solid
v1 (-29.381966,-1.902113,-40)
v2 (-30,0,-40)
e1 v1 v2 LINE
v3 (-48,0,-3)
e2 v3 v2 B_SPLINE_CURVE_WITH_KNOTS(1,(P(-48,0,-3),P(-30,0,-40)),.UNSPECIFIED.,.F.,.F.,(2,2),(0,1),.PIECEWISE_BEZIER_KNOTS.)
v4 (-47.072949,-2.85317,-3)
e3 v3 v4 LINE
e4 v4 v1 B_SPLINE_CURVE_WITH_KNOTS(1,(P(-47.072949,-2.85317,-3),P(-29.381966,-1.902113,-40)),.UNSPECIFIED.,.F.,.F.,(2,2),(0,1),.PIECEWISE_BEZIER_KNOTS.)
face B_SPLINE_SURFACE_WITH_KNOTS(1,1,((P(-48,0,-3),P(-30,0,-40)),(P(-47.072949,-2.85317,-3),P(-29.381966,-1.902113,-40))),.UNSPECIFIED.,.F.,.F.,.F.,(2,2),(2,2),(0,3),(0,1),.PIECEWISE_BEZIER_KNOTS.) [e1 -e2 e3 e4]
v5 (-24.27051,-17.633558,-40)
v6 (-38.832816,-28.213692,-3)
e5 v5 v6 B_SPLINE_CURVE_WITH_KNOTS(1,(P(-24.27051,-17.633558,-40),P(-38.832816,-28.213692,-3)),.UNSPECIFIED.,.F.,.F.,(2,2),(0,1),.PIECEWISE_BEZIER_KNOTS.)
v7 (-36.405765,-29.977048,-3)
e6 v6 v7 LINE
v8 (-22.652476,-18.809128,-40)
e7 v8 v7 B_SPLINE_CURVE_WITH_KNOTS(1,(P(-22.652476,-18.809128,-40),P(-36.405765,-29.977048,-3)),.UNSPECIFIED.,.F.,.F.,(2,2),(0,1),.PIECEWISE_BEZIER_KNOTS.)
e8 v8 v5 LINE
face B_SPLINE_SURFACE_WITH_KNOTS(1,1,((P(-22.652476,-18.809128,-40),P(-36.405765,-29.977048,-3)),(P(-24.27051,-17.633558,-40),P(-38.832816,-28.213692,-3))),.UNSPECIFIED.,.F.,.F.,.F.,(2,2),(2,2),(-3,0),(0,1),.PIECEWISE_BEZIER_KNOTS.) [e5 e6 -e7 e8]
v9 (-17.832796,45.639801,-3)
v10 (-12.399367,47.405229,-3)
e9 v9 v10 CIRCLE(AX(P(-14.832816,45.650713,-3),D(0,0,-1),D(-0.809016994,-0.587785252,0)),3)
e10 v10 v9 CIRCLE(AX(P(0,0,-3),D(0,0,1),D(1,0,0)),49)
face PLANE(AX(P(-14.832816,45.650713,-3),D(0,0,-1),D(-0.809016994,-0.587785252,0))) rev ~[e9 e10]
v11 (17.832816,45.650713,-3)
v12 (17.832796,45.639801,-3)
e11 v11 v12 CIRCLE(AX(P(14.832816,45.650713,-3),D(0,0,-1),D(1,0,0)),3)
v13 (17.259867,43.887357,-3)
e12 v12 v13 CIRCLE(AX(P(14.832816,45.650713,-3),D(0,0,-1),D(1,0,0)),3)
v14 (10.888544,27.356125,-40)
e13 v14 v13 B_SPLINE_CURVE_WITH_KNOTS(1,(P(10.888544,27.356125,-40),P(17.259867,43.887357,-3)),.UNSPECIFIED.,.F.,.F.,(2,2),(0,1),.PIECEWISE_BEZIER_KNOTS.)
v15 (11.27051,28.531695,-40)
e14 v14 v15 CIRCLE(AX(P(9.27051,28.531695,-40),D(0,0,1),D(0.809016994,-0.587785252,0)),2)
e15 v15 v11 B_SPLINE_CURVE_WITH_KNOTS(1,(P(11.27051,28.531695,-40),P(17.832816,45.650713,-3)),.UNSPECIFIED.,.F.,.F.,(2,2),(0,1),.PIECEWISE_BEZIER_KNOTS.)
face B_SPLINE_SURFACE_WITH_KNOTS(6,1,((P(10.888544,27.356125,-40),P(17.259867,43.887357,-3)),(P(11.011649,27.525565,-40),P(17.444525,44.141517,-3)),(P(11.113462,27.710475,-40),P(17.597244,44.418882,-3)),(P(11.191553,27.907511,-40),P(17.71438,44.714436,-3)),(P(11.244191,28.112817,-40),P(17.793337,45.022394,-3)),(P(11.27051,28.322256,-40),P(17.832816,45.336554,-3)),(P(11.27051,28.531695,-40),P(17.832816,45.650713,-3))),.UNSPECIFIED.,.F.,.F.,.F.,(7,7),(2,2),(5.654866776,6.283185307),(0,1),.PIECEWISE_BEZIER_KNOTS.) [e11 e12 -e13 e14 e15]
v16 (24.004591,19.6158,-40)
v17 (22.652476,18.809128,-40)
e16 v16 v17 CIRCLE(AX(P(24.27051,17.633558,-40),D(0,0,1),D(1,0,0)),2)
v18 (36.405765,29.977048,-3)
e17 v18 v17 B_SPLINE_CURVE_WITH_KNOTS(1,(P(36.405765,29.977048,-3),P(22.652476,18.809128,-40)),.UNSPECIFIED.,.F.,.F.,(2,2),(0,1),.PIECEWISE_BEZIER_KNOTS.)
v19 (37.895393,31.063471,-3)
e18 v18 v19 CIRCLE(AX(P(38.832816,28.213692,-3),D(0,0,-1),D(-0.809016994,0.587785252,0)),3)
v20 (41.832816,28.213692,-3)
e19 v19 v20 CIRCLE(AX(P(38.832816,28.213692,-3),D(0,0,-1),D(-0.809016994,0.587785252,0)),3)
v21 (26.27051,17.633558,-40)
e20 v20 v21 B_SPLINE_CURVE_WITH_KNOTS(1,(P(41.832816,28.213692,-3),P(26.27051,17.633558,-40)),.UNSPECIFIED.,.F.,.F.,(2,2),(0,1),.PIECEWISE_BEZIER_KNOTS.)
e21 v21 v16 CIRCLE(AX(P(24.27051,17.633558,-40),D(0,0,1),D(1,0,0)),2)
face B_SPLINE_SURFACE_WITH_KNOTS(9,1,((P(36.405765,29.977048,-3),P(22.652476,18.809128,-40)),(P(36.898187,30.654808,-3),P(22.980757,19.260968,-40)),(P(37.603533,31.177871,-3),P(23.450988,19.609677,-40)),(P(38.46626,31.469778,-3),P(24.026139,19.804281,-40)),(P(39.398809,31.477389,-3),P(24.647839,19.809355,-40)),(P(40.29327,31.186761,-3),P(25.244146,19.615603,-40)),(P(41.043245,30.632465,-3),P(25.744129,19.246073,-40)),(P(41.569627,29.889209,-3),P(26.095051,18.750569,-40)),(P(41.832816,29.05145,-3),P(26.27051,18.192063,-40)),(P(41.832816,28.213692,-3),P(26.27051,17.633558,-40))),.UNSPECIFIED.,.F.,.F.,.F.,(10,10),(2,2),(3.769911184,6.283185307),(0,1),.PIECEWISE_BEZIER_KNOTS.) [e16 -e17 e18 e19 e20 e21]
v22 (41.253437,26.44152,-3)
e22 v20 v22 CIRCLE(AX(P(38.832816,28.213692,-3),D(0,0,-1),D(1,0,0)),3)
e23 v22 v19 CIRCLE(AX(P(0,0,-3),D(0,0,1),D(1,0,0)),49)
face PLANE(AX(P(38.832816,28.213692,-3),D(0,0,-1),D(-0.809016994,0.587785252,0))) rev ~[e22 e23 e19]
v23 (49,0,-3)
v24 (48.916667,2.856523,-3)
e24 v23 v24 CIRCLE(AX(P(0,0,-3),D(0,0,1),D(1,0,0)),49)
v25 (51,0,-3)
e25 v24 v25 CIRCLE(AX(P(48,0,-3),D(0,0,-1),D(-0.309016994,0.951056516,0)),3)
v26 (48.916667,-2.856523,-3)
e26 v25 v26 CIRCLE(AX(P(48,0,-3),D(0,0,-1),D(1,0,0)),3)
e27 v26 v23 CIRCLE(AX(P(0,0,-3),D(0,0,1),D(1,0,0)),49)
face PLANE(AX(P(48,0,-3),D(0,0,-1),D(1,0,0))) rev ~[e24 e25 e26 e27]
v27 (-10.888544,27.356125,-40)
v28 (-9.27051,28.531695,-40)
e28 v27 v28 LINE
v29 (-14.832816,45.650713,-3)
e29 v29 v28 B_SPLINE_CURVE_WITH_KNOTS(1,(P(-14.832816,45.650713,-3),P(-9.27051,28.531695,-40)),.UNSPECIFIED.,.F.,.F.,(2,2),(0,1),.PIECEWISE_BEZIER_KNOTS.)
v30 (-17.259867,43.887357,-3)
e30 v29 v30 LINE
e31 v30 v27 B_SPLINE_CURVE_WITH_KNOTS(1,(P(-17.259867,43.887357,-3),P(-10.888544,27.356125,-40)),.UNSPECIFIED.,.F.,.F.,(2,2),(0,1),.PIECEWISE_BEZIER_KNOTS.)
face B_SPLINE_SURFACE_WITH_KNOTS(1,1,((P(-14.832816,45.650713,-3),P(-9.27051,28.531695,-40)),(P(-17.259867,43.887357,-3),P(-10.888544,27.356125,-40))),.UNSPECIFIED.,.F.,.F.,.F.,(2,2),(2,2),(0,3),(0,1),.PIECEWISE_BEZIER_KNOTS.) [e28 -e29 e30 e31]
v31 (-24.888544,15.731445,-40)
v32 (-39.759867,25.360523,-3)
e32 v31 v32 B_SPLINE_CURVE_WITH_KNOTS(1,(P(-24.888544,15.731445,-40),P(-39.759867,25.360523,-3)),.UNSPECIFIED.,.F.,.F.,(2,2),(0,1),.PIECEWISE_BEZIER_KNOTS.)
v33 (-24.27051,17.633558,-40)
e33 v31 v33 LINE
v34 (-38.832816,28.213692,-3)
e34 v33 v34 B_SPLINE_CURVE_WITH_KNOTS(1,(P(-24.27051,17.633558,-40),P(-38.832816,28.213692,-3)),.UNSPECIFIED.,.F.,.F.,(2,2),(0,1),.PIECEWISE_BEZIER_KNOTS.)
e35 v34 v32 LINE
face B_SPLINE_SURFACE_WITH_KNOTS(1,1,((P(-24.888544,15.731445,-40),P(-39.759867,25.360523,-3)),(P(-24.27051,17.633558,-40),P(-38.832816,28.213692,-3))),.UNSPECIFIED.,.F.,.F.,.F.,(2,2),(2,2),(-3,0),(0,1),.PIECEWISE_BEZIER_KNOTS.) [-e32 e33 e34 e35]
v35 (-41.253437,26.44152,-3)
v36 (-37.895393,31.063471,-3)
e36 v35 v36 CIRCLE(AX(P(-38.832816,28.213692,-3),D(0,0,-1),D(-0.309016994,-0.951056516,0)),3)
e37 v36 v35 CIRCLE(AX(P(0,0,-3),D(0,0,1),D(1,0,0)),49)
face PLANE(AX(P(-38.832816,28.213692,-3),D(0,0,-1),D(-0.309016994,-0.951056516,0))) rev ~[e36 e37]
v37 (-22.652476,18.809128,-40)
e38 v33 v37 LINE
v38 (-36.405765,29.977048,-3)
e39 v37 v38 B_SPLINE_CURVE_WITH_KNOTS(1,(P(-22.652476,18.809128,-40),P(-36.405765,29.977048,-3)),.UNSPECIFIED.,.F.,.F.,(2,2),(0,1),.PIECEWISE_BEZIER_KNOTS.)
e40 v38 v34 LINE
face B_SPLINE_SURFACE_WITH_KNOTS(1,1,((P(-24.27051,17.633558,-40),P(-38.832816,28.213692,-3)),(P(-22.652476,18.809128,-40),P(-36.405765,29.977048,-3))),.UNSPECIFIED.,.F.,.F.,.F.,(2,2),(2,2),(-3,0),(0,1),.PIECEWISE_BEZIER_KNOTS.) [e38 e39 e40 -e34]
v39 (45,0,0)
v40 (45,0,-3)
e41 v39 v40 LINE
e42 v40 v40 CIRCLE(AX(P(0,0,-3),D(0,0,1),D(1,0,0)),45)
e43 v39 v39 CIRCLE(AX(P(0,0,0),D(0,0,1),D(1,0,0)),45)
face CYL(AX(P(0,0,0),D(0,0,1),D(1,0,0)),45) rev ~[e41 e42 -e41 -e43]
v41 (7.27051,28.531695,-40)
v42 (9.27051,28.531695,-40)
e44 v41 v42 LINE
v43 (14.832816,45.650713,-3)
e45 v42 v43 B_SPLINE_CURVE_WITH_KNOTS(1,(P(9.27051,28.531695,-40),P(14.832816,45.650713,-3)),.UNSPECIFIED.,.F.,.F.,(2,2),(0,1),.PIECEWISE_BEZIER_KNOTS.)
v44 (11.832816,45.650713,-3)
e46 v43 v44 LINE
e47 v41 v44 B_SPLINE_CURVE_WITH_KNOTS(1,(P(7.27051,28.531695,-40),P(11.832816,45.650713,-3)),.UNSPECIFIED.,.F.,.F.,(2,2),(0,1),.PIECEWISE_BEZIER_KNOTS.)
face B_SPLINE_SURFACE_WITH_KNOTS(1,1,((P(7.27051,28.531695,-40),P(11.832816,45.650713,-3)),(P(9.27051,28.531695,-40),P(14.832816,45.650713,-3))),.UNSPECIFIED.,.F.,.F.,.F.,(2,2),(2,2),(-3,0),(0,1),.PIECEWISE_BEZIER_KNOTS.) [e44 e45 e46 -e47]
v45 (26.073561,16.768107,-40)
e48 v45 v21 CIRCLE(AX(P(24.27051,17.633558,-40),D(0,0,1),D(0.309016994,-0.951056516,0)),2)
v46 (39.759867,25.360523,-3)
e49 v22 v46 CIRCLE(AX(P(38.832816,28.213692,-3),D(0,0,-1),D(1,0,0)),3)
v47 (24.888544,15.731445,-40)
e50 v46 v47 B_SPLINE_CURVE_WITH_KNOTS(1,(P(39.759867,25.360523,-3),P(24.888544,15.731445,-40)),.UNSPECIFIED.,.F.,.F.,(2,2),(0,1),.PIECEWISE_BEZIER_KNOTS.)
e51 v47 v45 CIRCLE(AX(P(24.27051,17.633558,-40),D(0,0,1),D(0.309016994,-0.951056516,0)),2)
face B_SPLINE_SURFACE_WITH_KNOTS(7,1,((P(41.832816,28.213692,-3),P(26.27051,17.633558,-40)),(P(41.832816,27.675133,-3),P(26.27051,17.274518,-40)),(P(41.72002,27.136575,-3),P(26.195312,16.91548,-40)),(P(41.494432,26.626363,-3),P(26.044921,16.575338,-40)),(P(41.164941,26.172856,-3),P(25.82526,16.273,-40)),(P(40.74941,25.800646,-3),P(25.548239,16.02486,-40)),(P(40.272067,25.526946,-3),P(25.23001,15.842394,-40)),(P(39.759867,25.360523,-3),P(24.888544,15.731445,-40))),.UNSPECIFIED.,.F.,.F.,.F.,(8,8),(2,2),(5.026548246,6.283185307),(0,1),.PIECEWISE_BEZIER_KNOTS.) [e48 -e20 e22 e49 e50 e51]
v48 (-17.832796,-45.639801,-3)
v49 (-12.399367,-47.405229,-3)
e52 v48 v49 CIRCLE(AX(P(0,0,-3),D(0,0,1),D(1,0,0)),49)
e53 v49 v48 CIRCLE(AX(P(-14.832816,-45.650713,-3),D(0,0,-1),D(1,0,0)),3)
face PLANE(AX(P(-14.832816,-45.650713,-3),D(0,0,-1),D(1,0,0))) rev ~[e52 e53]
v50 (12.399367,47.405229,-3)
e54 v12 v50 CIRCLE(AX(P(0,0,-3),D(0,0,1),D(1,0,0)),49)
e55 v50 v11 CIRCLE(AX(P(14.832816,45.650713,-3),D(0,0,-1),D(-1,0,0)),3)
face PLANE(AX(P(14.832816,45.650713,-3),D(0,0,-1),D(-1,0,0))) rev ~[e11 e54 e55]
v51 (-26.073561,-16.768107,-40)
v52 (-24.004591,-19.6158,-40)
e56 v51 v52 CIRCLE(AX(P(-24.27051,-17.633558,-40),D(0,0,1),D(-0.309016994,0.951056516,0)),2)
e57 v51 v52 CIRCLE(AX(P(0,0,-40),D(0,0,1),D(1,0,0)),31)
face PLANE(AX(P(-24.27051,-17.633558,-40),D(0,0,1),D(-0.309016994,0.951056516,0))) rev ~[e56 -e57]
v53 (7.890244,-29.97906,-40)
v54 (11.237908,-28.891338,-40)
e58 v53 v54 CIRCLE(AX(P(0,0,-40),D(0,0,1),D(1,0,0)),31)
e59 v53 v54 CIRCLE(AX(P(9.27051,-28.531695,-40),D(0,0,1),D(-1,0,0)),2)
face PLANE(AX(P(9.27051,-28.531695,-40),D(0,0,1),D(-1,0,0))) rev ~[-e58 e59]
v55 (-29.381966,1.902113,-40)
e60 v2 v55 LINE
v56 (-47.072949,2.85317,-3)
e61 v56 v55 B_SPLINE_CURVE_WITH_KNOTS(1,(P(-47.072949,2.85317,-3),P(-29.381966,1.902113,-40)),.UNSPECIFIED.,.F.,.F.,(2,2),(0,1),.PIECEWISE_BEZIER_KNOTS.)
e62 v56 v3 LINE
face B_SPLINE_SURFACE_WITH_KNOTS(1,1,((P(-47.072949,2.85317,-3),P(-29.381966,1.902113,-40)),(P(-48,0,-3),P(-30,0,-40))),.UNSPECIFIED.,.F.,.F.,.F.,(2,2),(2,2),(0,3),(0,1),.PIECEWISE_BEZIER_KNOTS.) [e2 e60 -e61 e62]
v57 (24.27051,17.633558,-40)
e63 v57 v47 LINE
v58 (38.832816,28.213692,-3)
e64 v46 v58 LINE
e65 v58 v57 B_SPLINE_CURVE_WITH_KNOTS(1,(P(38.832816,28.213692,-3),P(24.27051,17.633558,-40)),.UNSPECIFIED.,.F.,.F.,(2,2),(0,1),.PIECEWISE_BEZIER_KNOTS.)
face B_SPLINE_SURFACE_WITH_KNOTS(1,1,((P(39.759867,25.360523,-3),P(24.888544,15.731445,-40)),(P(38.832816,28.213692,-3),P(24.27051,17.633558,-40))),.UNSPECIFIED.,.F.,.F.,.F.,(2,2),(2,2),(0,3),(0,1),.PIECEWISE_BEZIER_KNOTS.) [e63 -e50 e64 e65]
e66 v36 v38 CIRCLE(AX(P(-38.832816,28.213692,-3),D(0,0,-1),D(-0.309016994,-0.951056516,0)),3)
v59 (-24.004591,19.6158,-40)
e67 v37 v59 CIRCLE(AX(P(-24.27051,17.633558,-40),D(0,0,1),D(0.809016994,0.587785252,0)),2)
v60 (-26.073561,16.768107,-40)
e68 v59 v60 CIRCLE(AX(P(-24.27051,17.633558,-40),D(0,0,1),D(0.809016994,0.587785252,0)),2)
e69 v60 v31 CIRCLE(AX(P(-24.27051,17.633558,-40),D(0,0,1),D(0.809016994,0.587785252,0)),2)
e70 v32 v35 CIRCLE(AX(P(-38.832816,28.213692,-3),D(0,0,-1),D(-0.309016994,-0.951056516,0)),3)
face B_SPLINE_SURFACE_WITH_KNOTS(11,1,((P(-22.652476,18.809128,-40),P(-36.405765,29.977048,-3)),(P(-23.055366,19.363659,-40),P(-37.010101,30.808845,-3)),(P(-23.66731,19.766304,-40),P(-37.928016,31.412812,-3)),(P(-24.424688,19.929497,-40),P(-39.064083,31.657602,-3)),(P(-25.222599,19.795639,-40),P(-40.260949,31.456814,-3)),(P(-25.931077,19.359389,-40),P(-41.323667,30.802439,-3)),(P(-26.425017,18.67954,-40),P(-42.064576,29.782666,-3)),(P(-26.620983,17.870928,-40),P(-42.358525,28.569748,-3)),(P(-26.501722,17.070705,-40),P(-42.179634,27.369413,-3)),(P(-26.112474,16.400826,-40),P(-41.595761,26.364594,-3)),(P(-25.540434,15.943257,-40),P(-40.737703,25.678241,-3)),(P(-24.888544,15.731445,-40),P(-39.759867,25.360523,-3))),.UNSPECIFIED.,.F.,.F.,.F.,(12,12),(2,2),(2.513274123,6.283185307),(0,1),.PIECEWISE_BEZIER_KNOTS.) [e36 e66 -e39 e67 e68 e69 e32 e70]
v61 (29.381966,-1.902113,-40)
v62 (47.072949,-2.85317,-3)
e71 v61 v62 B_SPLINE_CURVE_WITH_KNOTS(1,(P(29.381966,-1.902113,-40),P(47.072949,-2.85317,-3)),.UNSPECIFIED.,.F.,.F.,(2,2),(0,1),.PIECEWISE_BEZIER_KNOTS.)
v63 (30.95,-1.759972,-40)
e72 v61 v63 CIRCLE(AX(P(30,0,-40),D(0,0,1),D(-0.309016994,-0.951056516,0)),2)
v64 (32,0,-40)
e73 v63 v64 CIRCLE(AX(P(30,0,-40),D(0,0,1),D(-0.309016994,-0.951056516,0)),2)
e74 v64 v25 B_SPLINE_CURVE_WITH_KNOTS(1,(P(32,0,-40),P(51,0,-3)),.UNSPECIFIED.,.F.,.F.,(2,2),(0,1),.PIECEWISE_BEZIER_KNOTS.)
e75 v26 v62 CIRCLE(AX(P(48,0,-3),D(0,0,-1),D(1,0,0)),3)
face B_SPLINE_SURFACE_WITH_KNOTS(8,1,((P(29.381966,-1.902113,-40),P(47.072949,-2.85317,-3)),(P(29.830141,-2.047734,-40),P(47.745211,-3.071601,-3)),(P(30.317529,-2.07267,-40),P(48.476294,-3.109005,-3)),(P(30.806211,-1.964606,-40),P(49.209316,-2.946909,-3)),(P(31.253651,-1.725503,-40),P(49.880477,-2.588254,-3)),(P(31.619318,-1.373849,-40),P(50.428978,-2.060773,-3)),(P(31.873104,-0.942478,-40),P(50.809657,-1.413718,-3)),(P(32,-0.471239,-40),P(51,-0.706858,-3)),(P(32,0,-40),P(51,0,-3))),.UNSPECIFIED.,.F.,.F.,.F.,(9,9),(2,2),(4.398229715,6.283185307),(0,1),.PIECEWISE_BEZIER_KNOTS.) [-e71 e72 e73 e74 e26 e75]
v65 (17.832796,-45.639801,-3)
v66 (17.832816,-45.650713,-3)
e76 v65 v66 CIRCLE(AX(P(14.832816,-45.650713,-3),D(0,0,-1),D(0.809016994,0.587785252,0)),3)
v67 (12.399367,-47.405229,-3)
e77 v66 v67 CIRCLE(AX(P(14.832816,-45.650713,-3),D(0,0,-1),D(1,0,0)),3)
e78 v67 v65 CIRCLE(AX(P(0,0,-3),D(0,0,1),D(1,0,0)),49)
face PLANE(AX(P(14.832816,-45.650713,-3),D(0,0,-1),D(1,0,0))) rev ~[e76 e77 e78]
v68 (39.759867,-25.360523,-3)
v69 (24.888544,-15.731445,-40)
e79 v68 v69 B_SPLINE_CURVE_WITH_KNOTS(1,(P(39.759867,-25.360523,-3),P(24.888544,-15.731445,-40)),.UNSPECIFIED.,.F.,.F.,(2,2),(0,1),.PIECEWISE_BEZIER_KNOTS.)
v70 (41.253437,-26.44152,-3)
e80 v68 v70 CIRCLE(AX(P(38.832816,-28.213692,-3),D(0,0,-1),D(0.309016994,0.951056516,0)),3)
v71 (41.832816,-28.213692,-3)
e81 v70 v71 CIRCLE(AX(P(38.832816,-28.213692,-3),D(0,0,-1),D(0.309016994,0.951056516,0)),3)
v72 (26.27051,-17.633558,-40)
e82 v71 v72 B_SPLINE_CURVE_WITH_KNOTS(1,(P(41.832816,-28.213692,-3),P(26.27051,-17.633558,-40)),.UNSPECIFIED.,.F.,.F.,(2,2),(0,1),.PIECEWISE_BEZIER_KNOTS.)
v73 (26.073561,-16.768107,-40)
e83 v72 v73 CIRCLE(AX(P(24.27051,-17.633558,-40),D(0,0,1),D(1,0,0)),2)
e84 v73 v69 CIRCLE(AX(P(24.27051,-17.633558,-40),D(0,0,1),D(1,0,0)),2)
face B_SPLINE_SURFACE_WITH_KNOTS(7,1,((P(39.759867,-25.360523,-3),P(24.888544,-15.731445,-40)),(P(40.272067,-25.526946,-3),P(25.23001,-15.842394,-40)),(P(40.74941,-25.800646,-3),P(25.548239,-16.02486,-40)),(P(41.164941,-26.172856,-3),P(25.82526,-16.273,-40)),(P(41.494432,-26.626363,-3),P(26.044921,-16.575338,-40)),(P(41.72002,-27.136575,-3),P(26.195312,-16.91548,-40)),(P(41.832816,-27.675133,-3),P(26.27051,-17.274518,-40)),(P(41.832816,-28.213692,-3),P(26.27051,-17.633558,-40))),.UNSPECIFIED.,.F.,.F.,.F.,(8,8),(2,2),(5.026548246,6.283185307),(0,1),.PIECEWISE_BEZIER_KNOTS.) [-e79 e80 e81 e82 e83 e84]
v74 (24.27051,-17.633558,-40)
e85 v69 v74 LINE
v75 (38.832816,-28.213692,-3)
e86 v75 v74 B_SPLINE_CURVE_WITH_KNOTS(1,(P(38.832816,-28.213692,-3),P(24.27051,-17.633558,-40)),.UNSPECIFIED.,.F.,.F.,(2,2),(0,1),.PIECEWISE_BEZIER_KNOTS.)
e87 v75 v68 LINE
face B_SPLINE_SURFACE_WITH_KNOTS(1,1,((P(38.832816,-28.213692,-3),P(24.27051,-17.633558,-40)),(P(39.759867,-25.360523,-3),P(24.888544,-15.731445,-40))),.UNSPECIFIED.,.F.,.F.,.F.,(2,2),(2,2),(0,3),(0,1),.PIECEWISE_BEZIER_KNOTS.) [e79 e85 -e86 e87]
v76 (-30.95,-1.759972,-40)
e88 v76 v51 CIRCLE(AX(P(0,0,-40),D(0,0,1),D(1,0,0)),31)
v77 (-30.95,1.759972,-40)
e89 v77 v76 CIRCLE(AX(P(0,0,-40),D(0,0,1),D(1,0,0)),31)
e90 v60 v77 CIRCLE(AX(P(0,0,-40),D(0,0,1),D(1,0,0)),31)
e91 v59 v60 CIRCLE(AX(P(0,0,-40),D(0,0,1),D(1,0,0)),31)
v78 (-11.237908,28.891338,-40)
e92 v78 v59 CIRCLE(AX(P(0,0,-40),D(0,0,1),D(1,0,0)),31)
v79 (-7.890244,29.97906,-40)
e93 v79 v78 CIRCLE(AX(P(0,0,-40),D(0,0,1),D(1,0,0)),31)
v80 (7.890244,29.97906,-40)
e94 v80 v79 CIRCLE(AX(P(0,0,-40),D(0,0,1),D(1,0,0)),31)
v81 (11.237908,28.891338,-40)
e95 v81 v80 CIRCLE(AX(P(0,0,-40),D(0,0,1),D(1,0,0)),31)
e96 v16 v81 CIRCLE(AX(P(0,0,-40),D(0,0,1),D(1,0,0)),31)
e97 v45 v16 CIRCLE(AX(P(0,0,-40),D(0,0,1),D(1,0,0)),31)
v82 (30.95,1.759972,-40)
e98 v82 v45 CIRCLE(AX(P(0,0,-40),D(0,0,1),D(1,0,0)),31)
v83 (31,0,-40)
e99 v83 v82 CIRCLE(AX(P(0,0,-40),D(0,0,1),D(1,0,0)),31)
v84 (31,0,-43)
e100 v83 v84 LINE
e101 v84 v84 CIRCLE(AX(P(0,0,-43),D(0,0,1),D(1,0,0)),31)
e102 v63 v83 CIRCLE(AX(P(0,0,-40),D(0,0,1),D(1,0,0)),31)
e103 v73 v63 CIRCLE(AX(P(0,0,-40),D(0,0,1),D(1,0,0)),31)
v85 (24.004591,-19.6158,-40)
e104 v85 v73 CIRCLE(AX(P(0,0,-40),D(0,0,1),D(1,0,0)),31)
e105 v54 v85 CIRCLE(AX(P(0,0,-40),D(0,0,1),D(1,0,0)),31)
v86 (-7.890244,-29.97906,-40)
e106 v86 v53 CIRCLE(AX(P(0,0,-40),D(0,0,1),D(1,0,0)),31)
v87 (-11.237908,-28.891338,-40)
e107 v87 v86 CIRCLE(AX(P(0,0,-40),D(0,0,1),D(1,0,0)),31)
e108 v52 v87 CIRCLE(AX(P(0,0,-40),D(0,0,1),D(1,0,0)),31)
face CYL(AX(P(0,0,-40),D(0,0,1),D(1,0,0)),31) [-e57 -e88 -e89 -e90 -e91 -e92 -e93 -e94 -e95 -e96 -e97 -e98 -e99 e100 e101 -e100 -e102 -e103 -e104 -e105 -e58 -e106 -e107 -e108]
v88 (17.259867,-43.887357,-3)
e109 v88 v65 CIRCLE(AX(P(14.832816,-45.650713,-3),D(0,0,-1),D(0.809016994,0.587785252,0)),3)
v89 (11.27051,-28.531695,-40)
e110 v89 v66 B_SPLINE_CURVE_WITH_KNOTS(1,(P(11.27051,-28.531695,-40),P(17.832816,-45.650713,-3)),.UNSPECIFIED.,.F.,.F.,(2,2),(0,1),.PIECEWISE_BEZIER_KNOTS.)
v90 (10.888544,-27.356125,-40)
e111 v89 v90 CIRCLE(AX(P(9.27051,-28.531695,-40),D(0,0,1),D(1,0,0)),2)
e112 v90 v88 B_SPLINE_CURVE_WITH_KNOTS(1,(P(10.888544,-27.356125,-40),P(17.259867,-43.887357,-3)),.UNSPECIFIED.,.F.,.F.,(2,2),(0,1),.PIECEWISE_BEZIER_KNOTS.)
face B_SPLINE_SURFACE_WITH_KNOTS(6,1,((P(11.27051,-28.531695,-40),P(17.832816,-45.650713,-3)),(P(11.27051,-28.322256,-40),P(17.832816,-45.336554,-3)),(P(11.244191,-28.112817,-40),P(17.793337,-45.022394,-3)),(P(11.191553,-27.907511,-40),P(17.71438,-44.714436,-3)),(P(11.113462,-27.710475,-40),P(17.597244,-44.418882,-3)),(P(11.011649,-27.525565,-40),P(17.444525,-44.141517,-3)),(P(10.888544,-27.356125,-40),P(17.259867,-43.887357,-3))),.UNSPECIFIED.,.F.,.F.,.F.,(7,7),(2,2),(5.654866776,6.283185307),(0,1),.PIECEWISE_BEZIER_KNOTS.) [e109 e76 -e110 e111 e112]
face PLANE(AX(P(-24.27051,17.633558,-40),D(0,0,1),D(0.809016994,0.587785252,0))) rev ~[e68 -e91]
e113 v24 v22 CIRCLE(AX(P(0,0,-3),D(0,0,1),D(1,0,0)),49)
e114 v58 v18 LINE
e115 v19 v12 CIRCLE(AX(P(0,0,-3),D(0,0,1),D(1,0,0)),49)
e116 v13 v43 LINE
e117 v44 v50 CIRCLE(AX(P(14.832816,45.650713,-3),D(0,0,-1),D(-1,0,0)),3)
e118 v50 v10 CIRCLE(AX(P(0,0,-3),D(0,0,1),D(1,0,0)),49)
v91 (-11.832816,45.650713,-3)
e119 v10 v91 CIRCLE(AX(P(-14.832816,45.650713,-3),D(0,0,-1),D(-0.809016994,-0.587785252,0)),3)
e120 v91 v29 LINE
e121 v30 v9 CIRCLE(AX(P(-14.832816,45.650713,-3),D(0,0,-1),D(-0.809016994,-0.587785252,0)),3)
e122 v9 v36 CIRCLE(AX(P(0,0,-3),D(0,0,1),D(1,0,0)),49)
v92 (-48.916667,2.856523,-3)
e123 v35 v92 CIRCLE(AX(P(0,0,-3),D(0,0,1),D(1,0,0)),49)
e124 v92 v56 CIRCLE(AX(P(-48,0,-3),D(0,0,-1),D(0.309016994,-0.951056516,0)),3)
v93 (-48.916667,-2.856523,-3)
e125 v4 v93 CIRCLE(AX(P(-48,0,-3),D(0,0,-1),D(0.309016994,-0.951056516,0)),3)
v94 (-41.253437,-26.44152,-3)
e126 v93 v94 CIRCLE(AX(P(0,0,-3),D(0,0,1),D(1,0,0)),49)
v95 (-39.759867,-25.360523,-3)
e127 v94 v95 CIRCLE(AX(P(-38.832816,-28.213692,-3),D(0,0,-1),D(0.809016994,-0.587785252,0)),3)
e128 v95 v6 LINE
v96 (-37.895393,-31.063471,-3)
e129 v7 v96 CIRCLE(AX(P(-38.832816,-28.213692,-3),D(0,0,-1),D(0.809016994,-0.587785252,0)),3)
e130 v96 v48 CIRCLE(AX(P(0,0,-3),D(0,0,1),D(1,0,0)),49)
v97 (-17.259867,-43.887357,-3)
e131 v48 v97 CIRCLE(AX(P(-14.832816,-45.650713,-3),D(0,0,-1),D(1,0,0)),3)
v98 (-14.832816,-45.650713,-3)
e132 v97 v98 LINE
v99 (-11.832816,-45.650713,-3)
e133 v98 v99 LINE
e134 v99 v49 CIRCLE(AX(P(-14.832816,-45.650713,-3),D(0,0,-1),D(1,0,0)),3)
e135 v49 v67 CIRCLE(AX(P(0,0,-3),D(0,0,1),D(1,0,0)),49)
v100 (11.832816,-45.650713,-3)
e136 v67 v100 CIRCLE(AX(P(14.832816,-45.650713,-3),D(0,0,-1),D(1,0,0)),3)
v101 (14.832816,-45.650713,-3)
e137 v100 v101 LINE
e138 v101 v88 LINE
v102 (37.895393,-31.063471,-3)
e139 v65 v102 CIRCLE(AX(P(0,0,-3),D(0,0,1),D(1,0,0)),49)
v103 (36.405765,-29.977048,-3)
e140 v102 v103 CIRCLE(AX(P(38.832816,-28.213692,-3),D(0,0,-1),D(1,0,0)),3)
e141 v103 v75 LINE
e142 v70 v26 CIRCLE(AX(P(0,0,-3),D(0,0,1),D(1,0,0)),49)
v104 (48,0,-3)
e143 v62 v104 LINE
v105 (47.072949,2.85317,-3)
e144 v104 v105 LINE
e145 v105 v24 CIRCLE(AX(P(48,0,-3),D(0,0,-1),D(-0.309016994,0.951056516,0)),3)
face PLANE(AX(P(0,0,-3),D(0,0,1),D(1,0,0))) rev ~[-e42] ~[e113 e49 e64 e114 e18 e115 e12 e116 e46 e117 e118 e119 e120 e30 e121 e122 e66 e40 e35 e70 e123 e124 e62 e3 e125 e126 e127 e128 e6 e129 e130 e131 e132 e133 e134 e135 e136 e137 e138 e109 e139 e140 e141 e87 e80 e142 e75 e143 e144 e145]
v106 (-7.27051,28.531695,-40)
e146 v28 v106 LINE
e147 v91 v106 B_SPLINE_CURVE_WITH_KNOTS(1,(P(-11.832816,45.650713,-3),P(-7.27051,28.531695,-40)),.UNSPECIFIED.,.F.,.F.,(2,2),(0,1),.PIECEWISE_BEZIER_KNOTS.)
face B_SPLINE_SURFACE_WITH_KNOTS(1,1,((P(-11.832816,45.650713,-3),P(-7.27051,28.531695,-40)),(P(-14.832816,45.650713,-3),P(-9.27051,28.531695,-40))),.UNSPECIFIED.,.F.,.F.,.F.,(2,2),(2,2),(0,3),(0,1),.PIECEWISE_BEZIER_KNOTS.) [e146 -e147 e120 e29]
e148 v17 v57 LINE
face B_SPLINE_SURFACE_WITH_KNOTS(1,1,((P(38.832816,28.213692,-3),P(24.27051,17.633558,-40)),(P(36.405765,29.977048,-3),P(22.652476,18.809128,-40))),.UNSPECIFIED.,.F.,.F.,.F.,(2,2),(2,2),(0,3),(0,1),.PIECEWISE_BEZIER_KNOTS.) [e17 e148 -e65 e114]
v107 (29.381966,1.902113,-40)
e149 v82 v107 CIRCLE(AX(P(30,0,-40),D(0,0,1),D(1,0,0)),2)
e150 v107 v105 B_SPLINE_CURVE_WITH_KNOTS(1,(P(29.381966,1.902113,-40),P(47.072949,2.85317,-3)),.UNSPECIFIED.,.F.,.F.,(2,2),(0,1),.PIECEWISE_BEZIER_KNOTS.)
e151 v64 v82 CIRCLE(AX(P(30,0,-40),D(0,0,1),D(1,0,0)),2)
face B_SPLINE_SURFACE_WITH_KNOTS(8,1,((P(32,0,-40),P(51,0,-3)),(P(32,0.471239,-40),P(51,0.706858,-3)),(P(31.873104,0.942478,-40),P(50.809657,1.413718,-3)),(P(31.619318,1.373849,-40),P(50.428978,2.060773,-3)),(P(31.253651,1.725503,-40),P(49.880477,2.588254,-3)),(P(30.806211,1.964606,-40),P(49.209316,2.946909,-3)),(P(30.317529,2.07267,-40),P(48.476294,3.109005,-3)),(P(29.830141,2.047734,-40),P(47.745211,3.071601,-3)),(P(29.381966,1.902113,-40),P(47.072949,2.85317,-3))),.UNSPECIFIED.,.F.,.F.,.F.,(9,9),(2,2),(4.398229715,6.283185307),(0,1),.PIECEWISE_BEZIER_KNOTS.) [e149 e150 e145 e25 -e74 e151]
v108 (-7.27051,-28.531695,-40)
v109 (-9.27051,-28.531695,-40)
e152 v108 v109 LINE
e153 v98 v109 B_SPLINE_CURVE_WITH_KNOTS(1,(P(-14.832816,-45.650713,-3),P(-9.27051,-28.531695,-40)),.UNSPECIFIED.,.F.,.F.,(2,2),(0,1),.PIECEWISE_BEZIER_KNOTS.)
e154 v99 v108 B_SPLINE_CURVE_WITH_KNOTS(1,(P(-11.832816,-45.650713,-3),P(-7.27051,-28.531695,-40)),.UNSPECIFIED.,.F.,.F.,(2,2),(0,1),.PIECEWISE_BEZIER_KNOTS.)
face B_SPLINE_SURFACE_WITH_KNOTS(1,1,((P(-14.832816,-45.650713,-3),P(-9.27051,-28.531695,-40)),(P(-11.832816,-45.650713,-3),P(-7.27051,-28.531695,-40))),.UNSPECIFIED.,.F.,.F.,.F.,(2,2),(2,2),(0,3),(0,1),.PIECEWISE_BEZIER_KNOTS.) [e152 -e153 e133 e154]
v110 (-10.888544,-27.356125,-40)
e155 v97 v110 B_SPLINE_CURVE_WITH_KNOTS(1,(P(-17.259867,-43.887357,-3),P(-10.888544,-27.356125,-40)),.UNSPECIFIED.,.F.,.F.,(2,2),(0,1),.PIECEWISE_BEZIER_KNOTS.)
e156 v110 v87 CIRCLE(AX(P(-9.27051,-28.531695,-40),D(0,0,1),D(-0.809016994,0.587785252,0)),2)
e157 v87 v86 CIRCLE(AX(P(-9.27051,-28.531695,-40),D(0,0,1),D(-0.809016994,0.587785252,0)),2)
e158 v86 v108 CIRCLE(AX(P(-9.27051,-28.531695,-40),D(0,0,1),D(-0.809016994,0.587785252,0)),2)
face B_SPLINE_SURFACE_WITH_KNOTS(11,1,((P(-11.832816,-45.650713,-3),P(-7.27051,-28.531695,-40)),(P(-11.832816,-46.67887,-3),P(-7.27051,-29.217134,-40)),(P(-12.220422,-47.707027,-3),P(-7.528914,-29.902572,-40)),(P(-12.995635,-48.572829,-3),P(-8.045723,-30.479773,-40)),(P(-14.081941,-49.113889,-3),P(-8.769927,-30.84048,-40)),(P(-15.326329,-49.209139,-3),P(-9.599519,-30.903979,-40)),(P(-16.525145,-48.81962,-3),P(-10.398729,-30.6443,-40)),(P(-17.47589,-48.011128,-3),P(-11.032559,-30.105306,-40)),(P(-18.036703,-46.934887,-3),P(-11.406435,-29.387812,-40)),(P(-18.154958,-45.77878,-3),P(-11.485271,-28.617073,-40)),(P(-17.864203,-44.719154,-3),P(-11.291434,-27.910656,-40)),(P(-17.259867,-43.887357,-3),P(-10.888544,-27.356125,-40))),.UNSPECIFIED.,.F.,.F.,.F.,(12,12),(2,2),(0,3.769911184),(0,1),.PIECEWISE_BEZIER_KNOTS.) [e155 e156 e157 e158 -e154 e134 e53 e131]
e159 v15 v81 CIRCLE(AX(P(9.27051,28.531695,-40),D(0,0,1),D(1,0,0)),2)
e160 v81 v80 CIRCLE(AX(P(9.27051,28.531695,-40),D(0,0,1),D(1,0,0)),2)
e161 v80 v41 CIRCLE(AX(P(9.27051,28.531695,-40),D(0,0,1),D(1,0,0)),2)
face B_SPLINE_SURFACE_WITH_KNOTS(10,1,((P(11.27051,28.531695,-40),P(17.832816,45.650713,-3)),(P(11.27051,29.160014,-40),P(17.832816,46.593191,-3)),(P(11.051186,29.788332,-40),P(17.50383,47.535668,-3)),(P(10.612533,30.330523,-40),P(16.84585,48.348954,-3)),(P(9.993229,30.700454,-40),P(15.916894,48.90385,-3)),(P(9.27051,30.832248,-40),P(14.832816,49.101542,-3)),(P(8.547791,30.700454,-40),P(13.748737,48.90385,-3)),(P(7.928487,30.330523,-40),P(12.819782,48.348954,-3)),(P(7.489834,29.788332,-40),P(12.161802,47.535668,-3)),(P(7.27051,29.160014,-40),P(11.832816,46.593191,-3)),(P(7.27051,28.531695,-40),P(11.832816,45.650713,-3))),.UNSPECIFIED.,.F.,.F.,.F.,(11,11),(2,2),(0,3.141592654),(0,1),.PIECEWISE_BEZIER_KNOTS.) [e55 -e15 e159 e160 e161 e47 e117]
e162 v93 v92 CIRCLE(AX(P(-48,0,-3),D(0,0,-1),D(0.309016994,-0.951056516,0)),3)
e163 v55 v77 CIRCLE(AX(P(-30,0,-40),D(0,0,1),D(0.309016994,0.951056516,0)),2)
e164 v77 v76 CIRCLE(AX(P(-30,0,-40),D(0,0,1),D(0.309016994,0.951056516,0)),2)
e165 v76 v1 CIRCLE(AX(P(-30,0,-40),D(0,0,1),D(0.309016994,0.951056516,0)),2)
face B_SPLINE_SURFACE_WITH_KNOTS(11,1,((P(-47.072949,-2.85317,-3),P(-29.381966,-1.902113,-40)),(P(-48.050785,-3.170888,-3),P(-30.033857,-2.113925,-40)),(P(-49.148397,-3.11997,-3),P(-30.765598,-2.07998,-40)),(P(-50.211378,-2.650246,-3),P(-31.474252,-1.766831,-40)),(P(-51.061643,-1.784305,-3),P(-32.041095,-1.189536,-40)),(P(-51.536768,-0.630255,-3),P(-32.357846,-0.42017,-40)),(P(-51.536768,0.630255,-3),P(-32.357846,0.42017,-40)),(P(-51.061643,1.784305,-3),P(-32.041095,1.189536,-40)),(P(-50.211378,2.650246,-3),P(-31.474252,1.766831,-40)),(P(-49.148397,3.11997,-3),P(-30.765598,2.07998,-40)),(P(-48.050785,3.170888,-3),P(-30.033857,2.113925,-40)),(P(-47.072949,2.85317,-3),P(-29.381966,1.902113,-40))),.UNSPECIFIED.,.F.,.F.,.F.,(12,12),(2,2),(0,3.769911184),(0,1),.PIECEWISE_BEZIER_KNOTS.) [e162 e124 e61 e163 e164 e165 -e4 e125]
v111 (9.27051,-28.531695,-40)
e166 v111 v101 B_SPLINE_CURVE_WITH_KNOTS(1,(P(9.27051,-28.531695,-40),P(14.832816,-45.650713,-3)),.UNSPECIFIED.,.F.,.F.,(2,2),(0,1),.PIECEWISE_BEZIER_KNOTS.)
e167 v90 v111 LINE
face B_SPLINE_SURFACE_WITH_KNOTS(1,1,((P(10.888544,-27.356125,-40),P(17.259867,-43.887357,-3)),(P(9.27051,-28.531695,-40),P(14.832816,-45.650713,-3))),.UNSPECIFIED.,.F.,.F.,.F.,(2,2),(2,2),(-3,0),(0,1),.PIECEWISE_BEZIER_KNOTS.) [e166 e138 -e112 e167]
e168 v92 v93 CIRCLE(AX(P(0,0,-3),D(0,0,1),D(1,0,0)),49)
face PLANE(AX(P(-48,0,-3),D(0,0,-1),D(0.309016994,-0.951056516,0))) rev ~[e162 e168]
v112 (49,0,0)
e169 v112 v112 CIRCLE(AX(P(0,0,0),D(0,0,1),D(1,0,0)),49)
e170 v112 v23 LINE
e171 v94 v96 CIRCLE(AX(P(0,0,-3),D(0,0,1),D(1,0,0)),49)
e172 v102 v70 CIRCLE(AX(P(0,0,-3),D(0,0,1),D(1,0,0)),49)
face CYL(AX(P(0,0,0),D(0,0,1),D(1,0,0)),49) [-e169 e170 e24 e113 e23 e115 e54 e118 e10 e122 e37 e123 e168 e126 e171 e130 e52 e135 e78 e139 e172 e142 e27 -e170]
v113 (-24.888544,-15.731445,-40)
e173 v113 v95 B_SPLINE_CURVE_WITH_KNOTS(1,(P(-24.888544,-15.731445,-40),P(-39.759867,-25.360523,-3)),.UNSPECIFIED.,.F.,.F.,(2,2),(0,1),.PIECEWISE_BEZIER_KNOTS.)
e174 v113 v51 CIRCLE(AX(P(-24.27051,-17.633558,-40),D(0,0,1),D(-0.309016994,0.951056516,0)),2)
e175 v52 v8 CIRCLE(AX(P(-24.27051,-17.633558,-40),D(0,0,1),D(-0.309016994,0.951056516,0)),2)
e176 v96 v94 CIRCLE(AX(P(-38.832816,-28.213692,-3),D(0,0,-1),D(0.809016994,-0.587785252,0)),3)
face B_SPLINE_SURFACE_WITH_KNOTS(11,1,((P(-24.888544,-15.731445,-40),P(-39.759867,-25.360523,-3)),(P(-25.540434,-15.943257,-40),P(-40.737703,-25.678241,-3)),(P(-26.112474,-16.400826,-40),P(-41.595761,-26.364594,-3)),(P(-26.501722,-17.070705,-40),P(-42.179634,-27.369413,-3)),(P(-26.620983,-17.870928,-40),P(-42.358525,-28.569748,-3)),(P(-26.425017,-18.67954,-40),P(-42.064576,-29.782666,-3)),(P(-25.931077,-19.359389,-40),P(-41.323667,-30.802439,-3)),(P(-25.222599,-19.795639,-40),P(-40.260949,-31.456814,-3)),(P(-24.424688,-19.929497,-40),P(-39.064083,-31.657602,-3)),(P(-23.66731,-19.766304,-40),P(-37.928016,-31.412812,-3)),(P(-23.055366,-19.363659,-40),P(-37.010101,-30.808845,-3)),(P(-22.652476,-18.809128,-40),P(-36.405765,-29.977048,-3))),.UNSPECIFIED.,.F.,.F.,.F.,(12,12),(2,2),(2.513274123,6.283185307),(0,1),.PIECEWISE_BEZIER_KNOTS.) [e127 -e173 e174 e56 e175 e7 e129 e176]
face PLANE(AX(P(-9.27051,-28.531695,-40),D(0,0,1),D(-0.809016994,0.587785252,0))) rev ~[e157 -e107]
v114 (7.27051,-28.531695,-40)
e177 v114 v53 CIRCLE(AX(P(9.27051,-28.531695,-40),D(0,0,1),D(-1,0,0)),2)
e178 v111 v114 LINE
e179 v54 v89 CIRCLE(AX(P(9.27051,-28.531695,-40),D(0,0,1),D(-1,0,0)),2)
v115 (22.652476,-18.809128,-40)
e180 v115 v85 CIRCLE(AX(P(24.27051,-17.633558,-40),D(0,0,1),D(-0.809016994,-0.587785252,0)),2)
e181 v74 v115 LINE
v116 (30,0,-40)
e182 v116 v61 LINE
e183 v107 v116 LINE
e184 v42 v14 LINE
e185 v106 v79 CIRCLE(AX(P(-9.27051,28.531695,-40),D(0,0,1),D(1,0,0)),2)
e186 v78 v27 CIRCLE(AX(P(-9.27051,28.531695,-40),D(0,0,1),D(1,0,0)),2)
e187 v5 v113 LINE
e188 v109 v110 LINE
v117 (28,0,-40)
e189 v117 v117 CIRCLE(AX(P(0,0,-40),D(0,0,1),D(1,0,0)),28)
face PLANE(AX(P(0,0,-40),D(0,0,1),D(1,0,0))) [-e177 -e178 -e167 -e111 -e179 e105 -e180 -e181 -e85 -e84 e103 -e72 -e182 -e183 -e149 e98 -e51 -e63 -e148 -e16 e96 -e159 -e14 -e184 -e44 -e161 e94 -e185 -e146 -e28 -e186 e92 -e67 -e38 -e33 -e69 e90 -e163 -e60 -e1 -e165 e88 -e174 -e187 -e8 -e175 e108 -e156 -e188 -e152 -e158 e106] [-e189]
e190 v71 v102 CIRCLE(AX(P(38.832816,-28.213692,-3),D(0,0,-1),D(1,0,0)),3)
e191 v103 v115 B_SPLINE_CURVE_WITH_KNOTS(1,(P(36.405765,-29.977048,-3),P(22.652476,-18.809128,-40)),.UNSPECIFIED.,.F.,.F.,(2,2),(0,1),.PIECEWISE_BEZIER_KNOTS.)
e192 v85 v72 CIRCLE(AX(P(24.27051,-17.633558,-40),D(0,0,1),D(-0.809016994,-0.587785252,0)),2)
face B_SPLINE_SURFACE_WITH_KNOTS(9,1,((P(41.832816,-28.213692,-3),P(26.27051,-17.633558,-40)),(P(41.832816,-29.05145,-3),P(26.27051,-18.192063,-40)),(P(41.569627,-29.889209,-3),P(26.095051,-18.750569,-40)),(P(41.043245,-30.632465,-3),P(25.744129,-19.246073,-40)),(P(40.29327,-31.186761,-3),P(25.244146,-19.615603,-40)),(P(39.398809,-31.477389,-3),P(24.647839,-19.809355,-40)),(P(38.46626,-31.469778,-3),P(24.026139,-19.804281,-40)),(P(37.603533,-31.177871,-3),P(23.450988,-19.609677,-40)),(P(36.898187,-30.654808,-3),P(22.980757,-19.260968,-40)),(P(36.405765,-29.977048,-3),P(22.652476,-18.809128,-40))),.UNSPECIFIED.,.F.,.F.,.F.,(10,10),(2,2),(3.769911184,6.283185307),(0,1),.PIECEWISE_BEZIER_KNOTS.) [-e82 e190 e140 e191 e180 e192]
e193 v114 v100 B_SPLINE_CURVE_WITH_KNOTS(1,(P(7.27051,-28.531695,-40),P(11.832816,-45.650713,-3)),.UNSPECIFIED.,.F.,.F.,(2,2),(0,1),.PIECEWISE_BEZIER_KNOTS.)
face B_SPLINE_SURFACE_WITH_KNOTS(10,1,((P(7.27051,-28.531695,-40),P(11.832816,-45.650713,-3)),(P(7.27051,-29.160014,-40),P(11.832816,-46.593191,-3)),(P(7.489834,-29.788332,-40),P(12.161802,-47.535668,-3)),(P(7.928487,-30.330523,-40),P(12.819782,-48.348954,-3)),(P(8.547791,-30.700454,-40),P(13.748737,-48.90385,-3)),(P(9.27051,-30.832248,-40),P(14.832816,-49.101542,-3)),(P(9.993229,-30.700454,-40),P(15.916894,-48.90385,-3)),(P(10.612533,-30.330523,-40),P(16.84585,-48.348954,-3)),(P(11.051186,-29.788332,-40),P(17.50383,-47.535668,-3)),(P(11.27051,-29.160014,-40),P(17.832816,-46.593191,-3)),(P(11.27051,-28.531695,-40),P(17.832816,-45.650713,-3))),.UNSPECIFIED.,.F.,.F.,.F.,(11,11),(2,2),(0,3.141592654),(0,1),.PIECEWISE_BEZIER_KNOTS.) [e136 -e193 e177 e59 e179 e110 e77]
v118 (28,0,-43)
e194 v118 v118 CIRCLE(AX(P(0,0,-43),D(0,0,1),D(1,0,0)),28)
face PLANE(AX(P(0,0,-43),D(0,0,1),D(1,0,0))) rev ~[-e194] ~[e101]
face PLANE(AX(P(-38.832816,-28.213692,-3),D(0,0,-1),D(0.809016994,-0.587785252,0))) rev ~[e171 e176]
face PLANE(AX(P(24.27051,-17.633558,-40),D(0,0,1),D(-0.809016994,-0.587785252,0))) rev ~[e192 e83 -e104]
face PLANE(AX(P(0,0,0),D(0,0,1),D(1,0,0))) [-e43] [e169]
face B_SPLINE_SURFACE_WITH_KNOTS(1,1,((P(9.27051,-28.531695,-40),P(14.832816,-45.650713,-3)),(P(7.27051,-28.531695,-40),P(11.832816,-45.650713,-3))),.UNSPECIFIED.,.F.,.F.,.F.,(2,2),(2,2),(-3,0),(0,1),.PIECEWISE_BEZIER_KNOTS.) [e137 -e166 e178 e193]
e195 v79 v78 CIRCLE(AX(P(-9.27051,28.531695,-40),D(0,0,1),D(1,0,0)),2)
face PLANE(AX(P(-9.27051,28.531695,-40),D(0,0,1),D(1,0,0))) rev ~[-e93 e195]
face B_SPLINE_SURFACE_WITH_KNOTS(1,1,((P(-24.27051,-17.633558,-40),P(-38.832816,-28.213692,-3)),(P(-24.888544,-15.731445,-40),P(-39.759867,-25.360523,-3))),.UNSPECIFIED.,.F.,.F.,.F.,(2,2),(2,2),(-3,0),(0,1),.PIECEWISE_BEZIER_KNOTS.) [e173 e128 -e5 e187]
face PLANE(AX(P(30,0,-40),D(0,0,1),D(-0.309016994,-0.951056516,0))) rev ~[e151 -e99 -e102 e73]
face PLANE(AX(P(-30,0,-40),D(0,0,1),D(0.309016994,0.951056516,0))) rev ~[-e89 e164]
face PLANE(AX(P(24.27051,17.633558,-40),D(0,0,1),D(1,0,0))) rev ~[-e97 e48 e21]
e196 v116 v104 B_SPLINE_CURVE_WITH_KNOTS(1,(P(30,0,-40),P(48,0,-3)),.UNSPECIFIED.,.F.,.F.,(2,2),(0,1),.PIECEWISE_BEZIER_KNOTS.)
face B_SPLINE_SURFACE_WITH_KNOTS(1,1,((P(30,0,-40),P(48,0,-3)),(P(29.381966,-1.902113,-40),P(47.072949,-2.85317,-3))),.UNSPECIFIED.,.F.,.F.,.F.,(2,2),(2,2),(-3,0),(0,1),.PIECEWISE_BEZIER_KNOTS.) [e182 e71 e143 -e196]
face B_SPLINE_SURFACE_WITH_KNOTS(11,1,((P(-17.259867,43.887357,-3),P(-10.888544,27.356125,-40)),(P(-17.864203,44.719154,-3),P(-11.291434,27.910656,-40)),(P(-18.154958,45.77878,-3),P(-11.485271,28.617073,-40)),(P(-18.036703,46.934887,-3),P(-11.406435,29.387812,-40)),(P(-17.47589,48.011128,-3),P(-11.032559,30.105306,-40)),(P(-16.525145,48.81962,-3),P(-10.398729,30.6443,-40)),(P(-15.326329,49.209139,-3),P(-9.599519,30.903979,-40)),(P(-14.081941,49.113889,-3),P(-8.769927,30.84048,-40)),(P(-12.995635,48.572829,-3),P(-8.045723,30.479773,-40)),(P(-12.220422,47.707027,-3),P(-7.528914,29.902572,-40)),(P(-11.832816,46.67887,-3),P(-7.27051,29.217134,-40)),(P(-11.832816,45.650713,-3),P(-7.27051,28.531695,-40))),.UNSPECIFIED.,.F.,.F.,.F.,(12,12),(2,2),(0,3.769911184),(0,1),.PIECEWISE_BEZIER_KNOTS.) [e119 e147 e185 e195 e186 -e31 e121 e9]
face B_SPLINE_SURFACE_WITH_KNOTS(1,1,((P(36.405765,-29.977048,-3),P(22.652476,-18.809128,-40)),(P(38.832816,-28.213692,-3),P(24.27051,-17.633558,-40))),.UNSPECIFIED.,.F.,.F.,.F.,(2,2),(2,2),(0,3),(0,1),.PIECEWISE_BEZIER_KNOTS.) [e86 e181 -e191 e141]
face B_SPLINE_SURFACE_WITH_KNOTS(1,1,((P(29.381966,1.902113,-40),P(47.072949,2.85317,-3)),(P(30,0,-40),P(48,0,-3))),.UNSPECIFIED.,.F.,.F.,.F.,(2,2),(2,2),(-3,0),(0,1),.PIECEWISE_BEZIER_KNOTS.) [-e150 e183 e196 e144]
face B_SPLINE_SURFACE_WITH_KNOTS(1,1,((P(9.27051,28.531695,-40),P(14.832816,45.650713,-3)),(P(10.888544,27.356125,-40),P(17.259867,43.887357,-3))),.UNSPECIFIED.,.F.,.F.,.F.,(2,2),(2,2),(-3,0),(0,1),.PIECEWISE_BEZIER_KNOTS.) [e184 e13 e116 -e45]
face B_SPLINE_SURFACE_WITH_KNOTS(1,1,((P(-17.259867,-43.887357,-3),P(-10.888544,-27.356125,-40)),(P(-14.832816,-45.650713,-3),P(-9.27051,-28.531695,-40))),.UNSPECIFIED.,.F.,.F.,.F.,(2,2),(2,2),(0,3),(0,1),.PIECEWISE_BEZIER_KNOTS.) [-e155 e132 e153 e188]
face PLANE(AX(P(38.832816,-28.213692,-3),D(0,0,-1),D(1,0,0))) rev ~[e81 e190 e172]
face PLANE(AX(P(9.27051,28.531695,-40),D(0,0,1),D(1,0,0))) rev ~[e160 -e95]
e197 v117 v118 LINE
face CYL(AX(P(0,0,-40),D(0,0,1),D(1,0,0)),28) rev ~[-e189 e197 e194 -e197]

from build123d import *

# Parameters (mm, degrees)
F0_R     = 45
F1_DEPTH = 3
F0_R_2   = 49
F3_DEPTH = 3
F5_R     = 28
F6_DEPTH = 3
F5_R_2   = 31
F8_DEPTH = 3


with BuildPart() as f1:
    # F0 (on Top) → F1 (new body)
    with BuildSketch(Plane.XY):
        Polygon((38.83281573, -28.21369211), (48, 0), (38.83281573, 28.21369211), (14.83281573, 45.6507127822), (-14.83281573, 45.6507127822), (-38.83281573, 28.21369211), (-48, 0), (-38.83281573, -28.21369211), (-14.83281573, -45.6507127822), (14.83281573, -45.6507127822), align=None)
        Circle(F0_R, mode=Mode.SUBTRACT)
    extrude(amount=-F1_DEPTH)

    # F0 (on Top) → F3 (join)
    with BuildSketch(Plane.XY):
        Circle(F0_R_2)
        Polygon((38.83281573, 28.21369211), (48, 0), (38.83281573, -28.21369211), (14.83281573, -45.6507127822), (-14.83281573, -45.6507127822), (-38.83281573, -28.21369211), (-48, 0), (-38.83281573, 28.21369211), (-14.83281573, 45.6507127822), (14.83281573, 45.6507127822), align=None, mode=Mode.SUBTRACT)
    extrude(amount=-F3_DEPTH)



with BuildPart() as f6:
    # F5 (on offset) → F6 (new body)
    with BuildSketch(Plane.XY.offset(-40)):
        Polygon((24.2705098312, -17.6335575688), (30, 0), (24.2705098312, 17.6335575688), (9.2705098312, 28.5316954889), (-9.2705098312, 28.5316954889), (-24.2705098312, 17.6335575688), (-30, 0), (-24.2705098312, -17.6335575688), (-9.2705098312, -28.5316954889), (9.2705098312, -28.5316954889), align=None)
        Circle(F5_R, mode=Mode.SUBTRACT)
    extrude(amount=-F6_DEPTH)

    # F5 (on offset) → F8 (join)
    with BuildSketch(Plane.XY.offset(-40)):
        Circle(F5_R_2)
        Polygon((24.2705098312, 17.6335575688), (30, 0), (24.2705098312, -17.6335575688), (9.2705098312, -28.5316954889), (-9.2705098312, -28.5316954889), (-24.2705098312, -17.6335575688), (-30, 0), (-24.2705098312, 17.6335575688), (-9.2705098312, 28.5316954889), (9.2705098312, 28.5316954889), align=None, mode=Mode.SUBTRACT)
    extrude(amount=-F8_DEPTH)


with BuildPart() as f1_1:
    add(f1.part)

    add(f6.part)  # F9 merges F6
    # F2 (on face) → F9 section 0
    with BuildSketch(Plane(origin=(0, 0, -3), x_dir=(1, 0, 0), z_dir=(0, 0, -1))):
        with BuildLine():
            ThreePointArc((-47.0729490169, 2.8531695489), (-51, 0), (-47.0729490169, -2.8531695489))
            Line((-47.0729490169, -2.8531695489), (-48, 0))
            Line((-48, 0), (-47.0729490169, 2.8531695489))
        make_face()
    # F7 (on face) → F9 section 1
    with BuildSketch(Plane.XY.offset(-40)):
        with BuildLine():
            ThreePointArc((-29.3819660113, 1.9021130326), (-32, 0), (-29.3819660113, -1.9021130326))
            Line((-29.3819660113, -1.9021130326), (-30, 0))
            Line((-30, 0), (-29.3819660113, 1.9021130326))
        make_face()
    loft()

    # F7 (on face) → F10 section 0
    with BuildSketch(Plane.XY.offset(-40)):
        with BuildLine():
            ThreePointArc((-24.88854382, -15.7314445362), (-25.88854382, -18.8091280734), (-22.6524758425, -18.8091280734))
            Line((-22.6524758425, -18.8091280734), (-24.2705098312, -17.6335575688))
            Line((-24.2705098312, -17.6335575688), (-24.88854382, -15.7314445362))
        make_face()
    # F2 (on face) → F10 section 1
    with BuildSketch(Plane(origin=(0, 0, -3), x_dir=(1, 0, 0), z_dir=(0, 0, -1))):
        with BuildLine():
            ThreePointArc((-36.4057647469, 29.9770478669), (-41.2598667131, 29.9770478669), (-39.7598667131, 25.3605225612))
            Line((-39.7598667131, 25.3605225612), (-38.83281573, 28.21369211))
            Line((-38.83281573, 28.21369211), (-36.4057647469, 29.9770478669))
        make_face()
    loft()

    # F2 (on face) → F11 section 0
    with BuildSketch(Plane(origin=(0, 0, -3), x_dir=(1, 0, 0), z_dir=(0, 0, -1))):
        with BuildLine():
            ThreePointArc((-11.83281573, 45.6507127822), (-15.7598667131, 48.5038823311), (-17.2598667131, 43.8873570253))
            Line((-17.2598667131, 43.8873570253), (-14.83281573, 45.6507127822))
            Line((-14.83281573, 45.6507127822), (-11.83281573, 45.6507127822))
        make_face()
    # F7 (on face) → F11 section 1
    with BuildSketch(Plane.XY.offset(-40)):
        with BuildLine():
            Line((-9.2705098312, -28.5316954889), (-10.88854382, -27.3561249843))
            ThreePointArc((-10.88854382, -27.3561249843), (-9.88854382, -30.4338085214), (-7.2705098312, -28.5316954889))
            Line((-7.2705098312, -28.5316954889), (-9.2705098312, -28.5316954889))
        make_face()
    loft()

    # F7 (on face) → F12 section 0
    with BuildSketch(Plane.XY.offset(-40)):
        with BuildLine():
            Line((9.2705098312, -28.5316954889), (7.2705098312, -28.5316954889))
            ThreePointArc((7.2705098312, -28.5316954889), (9.2705098312, -30.5316954889), (11.2705098312, -28.5316954889))
            ThreePointArc((11.2705098312, -28.5316954889), (11.1726228638, -27.9136615001), (10.88854382, -27.3561249843))
            Line((10.88854382, -27.3561249843), (9.2705098312, -28.5316954889))
        make_face()
    # F2 (on face) → F12 section 1
    with BuildSketch(Plane(origin=(0, 0, -3), x_dir=(1, 0, 0), z_dir=(0, 0, -1))):
        with BuildLine():
            ThreePointArc((17.83281573, 45.6507127822), (14.83281573, 48.6507127822), (11.83281573, 45.6507127822))
            Line((11.83281573, 45.6507127822), (14.83281573, 45.6507127822))
            Line((14.83281573, 45.6507127822), (17.2598667131, 43.8873570253))
            ThreePointArc((17.2598667131, 43.8873570253), (17.6859852789, 44.723661799), (17.83281573, 45.6507127822))
        make_face()
    loft()

    # F2 (on face) → F13 section 0
    with BuildSketch(Plane(origin=(0, 0, -3), x_dir=(1, 0, 0), z_dir=(0, 0, -1))):
        with BuildLine():
            ThreePointArc((41.83281573, 28.21369211), (39.7598667131, 31.0668616589), (36.4057647469, 29.9770478669))
            Line((36.4057647469, 29.9770478669), (38.83281573, 28.21369211))
            Line((38.83281573, 28.21369211), (39.7598667131, 25.3605225612))
            ThreePointArc((39.7598667131, 25.3605225612), (41.2598667131, 26.4503363532), (41.83281573, 28.21369211))
        make_face()
    # F7 (on face) → F13 section 1
    with BuildSketch(Plane.XY.offset(-40)):
        with BuildLine():
            Line((24.2705098312, -17.6335575688), (22.6524758425, -18.8091280734))
            ThreePointArc((22.6524758425, -18.8091280734), (24.88854382, -19.5356706014), (26.2705098312, -17.6335575688))
            ThreePointArc((26.2705098312, -17.6335575688), (25.88854382, -16.4579870642), (24.88854382, -15.7314445362))
            Line((24.88854382, -15.7314445362), (24.2705098312, -17.6335575688))
        make_face()
    loft()

    # F7 (on face) → F14 section 0
    with BuildSketch(Plane.XY.offset(-40)):
        with BuildLine():
            Line((30, 0), (29.3819660113, -1.9021130326))
            ThreePointArc((29.3819660113, -1.9021130326), (31.1755705046, -1.6180339887), (32, 0))
            ThreePointArc((32, 0), (31.1755705046, 1.6180339887), (29.3819660113, 1.9021130326))
            Line((29.3819660113, 1.9021130326), (30, 0))
        make_face()
    # F2 (on face) → F14 section 1
    with BuildSketch(Plane(origin=(0, 0, -3), x_dir=(1, 0, 0), z_dir=(0, 0, -1))):
        with BuildLine():
            Line((48, 0), (47.0729490169, -2.8531695489))
            ThreePointArc((47.0729490169, -2.8531695489), (49.7633557569, -2.4270509831), (51, 0))
            ThreePointArc((51, 0), (49.7633557569, 2.4270509831), (47.0729490169, 2.8531695489))
            Line((47.0729490169, 2.8531695489), (48, 0))
        make_face()
    loft()

    # F2 (on face) → F15 section 0
    with BuildSketch(Plane(origin=(0, 0, -3), x_dir=(1, 0, 0), z_dir=(0, 0, -1))):
        with BuildLine():
            Line((38.83281573, -28.21369211), (36.4057647469, -29.9770478669))
            ThreePointArc((36.4057647469, -29.9770478669), (39.7598667131, -31.0668616589), (41.83281573, -28.21369211))
            ThreePointArc((41.83281573, -28.21369211), (41.2598667131, -26.4503363532), (39.7598667131, -25.3605225612))
            Line((39.7598667131, -25.3605225612), (38.83281573, -28.21369211))
        make_face()
    # F7 (on face) → F15 section 1
    with BuildSketch(Plane.XY.offset(-40)):
        with BuildLine():
            ThreePointArc((26.2705098312, 17.6335575688), (24.88854382, 19.5356706014), (22.6524758425, 18.8091280734))
            Line((22.6524758425, 18.8091280734), (24.2705098312, 17.6335575688))
            Line((24.2705098312, 17.6335575688), (24.88854382, 15.7314445362))
            ThreePointArc((24.88854382, 15.7314445362), (25.88854382, 16.4579870642), (26.2705098312, 17.6335575688))
        make_face()
    loft()

    # F7 (on face) → F16 section 0
    with BuildSketch(Plane.XY.offset(-40)):
        with BuildLine():
            ThreePointArc((11.2705098312, 28.5316954889), (9.2705098312, 30.5316954889), (7.2705098312, 28.5316954889))
            Line((7.2705098312, 28.5316954889), (9.2705098312, 28.5316954889))
            Line((9.2705098312, 28.5316954889), (10.88854382, 27.3561249843))
            ThreePointArc((10.88854382, 27.3561249843), (11.1726228638, 27.9136615001), (11.2705098312, 28.5316954889))
        make_face()
    # F2 (on face) → F16 section 1
    with BuildSketch(Plane(origin=(0, 0, -3), x_dir=(1, 0, 0), z_dir=(0, 0, -1))):
        with BuildLine():
            Line((14.83281573, -45.6507127822), (11.83281573, -45.6507127822))
            ThreePointArc((11.83281573, -45.6507127822), (14.83281573, -48.6507127822), (17.83281573, -45.6507127822))
            ThreePointArc((17.83281573, -45.6507127822), (17.6859852789, -44.723661799), (17.2598667131, -43.8873570253))
            Line((17.2598667131, -43.8873570253), (14.83281573, -45.6507127822))
        make_face()
    loft()

    # F2 (on face) → F17 section 0
    with BuildSketch(Plane(origin=(0, 0, -3), x_dir=(1, 0, 0), z_dir=(0, 0, -1))):
        with BuildLine():
            Line((-14.83281573, -45.6507127822), (-17.2598667131, -43.8873570253))
            ThreePointArc((-17.2598667131, -43.8873570253), (-15.7598667131, -48.5038823311), (-11.83281573, -45.6507127822))
            Line((-11.83281573, -45.6507127822), (-14.83281573, -45.6507127822))
        make_face()
    # F7 (on face) → F17 section 1
    with BuildSketch(Plane.XY.offset(-40)):
        with BuildLine():
            ThreePointArc((-7.2705098312, 28.5316954889), (-9.88854382, 30.4338085214), (-10.88854382, 27.3561249843))
            Line((-10.88854382, 27.3561249843), (-9.2705098312, 28.5316954889))
            Line((-9.2705098312, 28.5316954889), (-7.2705098312, 28.5316954889))
        make_face()
    loft()

    # F7 (on face) → F18 section 0
    with BuildSketch(Plane.XY.offset(-40)):
        with BuildLine():
            ThreePointArc((-22.6524758425, 18.8091280734), (-25.88854382, 18.8091280734), (-24.88854382, 15.7314445362))
            Line((-24.88854382, 15.7314445362), (-24.2705098312, 17.6335575688))
            Line((-24.2705098312, 17.6335575688), (-22.6524758425, 18.8091280734))
        make_face()
    # F2 (on face) → F18 section 1
    with BuildSketch(Plane(origin=(0, 0, -3), x_dir=(1, 0, 0), z_dir=(0, 0, -1))):
        with BuildLine():
            ThreePointArc((-39.7598667131, -25.3605225612), (-41.2598667131, -29.9770478669), (-36.4057647469, -29.9770478669))
            Line((-36.4057647469, -29.9770478669), (-38.83281573, -28.21369211))
            Line((-38.83281573, -28.21369211), (-39.7598667131, -25.3605225612))
        make_face()
    loft()


solid = f1_1.part
